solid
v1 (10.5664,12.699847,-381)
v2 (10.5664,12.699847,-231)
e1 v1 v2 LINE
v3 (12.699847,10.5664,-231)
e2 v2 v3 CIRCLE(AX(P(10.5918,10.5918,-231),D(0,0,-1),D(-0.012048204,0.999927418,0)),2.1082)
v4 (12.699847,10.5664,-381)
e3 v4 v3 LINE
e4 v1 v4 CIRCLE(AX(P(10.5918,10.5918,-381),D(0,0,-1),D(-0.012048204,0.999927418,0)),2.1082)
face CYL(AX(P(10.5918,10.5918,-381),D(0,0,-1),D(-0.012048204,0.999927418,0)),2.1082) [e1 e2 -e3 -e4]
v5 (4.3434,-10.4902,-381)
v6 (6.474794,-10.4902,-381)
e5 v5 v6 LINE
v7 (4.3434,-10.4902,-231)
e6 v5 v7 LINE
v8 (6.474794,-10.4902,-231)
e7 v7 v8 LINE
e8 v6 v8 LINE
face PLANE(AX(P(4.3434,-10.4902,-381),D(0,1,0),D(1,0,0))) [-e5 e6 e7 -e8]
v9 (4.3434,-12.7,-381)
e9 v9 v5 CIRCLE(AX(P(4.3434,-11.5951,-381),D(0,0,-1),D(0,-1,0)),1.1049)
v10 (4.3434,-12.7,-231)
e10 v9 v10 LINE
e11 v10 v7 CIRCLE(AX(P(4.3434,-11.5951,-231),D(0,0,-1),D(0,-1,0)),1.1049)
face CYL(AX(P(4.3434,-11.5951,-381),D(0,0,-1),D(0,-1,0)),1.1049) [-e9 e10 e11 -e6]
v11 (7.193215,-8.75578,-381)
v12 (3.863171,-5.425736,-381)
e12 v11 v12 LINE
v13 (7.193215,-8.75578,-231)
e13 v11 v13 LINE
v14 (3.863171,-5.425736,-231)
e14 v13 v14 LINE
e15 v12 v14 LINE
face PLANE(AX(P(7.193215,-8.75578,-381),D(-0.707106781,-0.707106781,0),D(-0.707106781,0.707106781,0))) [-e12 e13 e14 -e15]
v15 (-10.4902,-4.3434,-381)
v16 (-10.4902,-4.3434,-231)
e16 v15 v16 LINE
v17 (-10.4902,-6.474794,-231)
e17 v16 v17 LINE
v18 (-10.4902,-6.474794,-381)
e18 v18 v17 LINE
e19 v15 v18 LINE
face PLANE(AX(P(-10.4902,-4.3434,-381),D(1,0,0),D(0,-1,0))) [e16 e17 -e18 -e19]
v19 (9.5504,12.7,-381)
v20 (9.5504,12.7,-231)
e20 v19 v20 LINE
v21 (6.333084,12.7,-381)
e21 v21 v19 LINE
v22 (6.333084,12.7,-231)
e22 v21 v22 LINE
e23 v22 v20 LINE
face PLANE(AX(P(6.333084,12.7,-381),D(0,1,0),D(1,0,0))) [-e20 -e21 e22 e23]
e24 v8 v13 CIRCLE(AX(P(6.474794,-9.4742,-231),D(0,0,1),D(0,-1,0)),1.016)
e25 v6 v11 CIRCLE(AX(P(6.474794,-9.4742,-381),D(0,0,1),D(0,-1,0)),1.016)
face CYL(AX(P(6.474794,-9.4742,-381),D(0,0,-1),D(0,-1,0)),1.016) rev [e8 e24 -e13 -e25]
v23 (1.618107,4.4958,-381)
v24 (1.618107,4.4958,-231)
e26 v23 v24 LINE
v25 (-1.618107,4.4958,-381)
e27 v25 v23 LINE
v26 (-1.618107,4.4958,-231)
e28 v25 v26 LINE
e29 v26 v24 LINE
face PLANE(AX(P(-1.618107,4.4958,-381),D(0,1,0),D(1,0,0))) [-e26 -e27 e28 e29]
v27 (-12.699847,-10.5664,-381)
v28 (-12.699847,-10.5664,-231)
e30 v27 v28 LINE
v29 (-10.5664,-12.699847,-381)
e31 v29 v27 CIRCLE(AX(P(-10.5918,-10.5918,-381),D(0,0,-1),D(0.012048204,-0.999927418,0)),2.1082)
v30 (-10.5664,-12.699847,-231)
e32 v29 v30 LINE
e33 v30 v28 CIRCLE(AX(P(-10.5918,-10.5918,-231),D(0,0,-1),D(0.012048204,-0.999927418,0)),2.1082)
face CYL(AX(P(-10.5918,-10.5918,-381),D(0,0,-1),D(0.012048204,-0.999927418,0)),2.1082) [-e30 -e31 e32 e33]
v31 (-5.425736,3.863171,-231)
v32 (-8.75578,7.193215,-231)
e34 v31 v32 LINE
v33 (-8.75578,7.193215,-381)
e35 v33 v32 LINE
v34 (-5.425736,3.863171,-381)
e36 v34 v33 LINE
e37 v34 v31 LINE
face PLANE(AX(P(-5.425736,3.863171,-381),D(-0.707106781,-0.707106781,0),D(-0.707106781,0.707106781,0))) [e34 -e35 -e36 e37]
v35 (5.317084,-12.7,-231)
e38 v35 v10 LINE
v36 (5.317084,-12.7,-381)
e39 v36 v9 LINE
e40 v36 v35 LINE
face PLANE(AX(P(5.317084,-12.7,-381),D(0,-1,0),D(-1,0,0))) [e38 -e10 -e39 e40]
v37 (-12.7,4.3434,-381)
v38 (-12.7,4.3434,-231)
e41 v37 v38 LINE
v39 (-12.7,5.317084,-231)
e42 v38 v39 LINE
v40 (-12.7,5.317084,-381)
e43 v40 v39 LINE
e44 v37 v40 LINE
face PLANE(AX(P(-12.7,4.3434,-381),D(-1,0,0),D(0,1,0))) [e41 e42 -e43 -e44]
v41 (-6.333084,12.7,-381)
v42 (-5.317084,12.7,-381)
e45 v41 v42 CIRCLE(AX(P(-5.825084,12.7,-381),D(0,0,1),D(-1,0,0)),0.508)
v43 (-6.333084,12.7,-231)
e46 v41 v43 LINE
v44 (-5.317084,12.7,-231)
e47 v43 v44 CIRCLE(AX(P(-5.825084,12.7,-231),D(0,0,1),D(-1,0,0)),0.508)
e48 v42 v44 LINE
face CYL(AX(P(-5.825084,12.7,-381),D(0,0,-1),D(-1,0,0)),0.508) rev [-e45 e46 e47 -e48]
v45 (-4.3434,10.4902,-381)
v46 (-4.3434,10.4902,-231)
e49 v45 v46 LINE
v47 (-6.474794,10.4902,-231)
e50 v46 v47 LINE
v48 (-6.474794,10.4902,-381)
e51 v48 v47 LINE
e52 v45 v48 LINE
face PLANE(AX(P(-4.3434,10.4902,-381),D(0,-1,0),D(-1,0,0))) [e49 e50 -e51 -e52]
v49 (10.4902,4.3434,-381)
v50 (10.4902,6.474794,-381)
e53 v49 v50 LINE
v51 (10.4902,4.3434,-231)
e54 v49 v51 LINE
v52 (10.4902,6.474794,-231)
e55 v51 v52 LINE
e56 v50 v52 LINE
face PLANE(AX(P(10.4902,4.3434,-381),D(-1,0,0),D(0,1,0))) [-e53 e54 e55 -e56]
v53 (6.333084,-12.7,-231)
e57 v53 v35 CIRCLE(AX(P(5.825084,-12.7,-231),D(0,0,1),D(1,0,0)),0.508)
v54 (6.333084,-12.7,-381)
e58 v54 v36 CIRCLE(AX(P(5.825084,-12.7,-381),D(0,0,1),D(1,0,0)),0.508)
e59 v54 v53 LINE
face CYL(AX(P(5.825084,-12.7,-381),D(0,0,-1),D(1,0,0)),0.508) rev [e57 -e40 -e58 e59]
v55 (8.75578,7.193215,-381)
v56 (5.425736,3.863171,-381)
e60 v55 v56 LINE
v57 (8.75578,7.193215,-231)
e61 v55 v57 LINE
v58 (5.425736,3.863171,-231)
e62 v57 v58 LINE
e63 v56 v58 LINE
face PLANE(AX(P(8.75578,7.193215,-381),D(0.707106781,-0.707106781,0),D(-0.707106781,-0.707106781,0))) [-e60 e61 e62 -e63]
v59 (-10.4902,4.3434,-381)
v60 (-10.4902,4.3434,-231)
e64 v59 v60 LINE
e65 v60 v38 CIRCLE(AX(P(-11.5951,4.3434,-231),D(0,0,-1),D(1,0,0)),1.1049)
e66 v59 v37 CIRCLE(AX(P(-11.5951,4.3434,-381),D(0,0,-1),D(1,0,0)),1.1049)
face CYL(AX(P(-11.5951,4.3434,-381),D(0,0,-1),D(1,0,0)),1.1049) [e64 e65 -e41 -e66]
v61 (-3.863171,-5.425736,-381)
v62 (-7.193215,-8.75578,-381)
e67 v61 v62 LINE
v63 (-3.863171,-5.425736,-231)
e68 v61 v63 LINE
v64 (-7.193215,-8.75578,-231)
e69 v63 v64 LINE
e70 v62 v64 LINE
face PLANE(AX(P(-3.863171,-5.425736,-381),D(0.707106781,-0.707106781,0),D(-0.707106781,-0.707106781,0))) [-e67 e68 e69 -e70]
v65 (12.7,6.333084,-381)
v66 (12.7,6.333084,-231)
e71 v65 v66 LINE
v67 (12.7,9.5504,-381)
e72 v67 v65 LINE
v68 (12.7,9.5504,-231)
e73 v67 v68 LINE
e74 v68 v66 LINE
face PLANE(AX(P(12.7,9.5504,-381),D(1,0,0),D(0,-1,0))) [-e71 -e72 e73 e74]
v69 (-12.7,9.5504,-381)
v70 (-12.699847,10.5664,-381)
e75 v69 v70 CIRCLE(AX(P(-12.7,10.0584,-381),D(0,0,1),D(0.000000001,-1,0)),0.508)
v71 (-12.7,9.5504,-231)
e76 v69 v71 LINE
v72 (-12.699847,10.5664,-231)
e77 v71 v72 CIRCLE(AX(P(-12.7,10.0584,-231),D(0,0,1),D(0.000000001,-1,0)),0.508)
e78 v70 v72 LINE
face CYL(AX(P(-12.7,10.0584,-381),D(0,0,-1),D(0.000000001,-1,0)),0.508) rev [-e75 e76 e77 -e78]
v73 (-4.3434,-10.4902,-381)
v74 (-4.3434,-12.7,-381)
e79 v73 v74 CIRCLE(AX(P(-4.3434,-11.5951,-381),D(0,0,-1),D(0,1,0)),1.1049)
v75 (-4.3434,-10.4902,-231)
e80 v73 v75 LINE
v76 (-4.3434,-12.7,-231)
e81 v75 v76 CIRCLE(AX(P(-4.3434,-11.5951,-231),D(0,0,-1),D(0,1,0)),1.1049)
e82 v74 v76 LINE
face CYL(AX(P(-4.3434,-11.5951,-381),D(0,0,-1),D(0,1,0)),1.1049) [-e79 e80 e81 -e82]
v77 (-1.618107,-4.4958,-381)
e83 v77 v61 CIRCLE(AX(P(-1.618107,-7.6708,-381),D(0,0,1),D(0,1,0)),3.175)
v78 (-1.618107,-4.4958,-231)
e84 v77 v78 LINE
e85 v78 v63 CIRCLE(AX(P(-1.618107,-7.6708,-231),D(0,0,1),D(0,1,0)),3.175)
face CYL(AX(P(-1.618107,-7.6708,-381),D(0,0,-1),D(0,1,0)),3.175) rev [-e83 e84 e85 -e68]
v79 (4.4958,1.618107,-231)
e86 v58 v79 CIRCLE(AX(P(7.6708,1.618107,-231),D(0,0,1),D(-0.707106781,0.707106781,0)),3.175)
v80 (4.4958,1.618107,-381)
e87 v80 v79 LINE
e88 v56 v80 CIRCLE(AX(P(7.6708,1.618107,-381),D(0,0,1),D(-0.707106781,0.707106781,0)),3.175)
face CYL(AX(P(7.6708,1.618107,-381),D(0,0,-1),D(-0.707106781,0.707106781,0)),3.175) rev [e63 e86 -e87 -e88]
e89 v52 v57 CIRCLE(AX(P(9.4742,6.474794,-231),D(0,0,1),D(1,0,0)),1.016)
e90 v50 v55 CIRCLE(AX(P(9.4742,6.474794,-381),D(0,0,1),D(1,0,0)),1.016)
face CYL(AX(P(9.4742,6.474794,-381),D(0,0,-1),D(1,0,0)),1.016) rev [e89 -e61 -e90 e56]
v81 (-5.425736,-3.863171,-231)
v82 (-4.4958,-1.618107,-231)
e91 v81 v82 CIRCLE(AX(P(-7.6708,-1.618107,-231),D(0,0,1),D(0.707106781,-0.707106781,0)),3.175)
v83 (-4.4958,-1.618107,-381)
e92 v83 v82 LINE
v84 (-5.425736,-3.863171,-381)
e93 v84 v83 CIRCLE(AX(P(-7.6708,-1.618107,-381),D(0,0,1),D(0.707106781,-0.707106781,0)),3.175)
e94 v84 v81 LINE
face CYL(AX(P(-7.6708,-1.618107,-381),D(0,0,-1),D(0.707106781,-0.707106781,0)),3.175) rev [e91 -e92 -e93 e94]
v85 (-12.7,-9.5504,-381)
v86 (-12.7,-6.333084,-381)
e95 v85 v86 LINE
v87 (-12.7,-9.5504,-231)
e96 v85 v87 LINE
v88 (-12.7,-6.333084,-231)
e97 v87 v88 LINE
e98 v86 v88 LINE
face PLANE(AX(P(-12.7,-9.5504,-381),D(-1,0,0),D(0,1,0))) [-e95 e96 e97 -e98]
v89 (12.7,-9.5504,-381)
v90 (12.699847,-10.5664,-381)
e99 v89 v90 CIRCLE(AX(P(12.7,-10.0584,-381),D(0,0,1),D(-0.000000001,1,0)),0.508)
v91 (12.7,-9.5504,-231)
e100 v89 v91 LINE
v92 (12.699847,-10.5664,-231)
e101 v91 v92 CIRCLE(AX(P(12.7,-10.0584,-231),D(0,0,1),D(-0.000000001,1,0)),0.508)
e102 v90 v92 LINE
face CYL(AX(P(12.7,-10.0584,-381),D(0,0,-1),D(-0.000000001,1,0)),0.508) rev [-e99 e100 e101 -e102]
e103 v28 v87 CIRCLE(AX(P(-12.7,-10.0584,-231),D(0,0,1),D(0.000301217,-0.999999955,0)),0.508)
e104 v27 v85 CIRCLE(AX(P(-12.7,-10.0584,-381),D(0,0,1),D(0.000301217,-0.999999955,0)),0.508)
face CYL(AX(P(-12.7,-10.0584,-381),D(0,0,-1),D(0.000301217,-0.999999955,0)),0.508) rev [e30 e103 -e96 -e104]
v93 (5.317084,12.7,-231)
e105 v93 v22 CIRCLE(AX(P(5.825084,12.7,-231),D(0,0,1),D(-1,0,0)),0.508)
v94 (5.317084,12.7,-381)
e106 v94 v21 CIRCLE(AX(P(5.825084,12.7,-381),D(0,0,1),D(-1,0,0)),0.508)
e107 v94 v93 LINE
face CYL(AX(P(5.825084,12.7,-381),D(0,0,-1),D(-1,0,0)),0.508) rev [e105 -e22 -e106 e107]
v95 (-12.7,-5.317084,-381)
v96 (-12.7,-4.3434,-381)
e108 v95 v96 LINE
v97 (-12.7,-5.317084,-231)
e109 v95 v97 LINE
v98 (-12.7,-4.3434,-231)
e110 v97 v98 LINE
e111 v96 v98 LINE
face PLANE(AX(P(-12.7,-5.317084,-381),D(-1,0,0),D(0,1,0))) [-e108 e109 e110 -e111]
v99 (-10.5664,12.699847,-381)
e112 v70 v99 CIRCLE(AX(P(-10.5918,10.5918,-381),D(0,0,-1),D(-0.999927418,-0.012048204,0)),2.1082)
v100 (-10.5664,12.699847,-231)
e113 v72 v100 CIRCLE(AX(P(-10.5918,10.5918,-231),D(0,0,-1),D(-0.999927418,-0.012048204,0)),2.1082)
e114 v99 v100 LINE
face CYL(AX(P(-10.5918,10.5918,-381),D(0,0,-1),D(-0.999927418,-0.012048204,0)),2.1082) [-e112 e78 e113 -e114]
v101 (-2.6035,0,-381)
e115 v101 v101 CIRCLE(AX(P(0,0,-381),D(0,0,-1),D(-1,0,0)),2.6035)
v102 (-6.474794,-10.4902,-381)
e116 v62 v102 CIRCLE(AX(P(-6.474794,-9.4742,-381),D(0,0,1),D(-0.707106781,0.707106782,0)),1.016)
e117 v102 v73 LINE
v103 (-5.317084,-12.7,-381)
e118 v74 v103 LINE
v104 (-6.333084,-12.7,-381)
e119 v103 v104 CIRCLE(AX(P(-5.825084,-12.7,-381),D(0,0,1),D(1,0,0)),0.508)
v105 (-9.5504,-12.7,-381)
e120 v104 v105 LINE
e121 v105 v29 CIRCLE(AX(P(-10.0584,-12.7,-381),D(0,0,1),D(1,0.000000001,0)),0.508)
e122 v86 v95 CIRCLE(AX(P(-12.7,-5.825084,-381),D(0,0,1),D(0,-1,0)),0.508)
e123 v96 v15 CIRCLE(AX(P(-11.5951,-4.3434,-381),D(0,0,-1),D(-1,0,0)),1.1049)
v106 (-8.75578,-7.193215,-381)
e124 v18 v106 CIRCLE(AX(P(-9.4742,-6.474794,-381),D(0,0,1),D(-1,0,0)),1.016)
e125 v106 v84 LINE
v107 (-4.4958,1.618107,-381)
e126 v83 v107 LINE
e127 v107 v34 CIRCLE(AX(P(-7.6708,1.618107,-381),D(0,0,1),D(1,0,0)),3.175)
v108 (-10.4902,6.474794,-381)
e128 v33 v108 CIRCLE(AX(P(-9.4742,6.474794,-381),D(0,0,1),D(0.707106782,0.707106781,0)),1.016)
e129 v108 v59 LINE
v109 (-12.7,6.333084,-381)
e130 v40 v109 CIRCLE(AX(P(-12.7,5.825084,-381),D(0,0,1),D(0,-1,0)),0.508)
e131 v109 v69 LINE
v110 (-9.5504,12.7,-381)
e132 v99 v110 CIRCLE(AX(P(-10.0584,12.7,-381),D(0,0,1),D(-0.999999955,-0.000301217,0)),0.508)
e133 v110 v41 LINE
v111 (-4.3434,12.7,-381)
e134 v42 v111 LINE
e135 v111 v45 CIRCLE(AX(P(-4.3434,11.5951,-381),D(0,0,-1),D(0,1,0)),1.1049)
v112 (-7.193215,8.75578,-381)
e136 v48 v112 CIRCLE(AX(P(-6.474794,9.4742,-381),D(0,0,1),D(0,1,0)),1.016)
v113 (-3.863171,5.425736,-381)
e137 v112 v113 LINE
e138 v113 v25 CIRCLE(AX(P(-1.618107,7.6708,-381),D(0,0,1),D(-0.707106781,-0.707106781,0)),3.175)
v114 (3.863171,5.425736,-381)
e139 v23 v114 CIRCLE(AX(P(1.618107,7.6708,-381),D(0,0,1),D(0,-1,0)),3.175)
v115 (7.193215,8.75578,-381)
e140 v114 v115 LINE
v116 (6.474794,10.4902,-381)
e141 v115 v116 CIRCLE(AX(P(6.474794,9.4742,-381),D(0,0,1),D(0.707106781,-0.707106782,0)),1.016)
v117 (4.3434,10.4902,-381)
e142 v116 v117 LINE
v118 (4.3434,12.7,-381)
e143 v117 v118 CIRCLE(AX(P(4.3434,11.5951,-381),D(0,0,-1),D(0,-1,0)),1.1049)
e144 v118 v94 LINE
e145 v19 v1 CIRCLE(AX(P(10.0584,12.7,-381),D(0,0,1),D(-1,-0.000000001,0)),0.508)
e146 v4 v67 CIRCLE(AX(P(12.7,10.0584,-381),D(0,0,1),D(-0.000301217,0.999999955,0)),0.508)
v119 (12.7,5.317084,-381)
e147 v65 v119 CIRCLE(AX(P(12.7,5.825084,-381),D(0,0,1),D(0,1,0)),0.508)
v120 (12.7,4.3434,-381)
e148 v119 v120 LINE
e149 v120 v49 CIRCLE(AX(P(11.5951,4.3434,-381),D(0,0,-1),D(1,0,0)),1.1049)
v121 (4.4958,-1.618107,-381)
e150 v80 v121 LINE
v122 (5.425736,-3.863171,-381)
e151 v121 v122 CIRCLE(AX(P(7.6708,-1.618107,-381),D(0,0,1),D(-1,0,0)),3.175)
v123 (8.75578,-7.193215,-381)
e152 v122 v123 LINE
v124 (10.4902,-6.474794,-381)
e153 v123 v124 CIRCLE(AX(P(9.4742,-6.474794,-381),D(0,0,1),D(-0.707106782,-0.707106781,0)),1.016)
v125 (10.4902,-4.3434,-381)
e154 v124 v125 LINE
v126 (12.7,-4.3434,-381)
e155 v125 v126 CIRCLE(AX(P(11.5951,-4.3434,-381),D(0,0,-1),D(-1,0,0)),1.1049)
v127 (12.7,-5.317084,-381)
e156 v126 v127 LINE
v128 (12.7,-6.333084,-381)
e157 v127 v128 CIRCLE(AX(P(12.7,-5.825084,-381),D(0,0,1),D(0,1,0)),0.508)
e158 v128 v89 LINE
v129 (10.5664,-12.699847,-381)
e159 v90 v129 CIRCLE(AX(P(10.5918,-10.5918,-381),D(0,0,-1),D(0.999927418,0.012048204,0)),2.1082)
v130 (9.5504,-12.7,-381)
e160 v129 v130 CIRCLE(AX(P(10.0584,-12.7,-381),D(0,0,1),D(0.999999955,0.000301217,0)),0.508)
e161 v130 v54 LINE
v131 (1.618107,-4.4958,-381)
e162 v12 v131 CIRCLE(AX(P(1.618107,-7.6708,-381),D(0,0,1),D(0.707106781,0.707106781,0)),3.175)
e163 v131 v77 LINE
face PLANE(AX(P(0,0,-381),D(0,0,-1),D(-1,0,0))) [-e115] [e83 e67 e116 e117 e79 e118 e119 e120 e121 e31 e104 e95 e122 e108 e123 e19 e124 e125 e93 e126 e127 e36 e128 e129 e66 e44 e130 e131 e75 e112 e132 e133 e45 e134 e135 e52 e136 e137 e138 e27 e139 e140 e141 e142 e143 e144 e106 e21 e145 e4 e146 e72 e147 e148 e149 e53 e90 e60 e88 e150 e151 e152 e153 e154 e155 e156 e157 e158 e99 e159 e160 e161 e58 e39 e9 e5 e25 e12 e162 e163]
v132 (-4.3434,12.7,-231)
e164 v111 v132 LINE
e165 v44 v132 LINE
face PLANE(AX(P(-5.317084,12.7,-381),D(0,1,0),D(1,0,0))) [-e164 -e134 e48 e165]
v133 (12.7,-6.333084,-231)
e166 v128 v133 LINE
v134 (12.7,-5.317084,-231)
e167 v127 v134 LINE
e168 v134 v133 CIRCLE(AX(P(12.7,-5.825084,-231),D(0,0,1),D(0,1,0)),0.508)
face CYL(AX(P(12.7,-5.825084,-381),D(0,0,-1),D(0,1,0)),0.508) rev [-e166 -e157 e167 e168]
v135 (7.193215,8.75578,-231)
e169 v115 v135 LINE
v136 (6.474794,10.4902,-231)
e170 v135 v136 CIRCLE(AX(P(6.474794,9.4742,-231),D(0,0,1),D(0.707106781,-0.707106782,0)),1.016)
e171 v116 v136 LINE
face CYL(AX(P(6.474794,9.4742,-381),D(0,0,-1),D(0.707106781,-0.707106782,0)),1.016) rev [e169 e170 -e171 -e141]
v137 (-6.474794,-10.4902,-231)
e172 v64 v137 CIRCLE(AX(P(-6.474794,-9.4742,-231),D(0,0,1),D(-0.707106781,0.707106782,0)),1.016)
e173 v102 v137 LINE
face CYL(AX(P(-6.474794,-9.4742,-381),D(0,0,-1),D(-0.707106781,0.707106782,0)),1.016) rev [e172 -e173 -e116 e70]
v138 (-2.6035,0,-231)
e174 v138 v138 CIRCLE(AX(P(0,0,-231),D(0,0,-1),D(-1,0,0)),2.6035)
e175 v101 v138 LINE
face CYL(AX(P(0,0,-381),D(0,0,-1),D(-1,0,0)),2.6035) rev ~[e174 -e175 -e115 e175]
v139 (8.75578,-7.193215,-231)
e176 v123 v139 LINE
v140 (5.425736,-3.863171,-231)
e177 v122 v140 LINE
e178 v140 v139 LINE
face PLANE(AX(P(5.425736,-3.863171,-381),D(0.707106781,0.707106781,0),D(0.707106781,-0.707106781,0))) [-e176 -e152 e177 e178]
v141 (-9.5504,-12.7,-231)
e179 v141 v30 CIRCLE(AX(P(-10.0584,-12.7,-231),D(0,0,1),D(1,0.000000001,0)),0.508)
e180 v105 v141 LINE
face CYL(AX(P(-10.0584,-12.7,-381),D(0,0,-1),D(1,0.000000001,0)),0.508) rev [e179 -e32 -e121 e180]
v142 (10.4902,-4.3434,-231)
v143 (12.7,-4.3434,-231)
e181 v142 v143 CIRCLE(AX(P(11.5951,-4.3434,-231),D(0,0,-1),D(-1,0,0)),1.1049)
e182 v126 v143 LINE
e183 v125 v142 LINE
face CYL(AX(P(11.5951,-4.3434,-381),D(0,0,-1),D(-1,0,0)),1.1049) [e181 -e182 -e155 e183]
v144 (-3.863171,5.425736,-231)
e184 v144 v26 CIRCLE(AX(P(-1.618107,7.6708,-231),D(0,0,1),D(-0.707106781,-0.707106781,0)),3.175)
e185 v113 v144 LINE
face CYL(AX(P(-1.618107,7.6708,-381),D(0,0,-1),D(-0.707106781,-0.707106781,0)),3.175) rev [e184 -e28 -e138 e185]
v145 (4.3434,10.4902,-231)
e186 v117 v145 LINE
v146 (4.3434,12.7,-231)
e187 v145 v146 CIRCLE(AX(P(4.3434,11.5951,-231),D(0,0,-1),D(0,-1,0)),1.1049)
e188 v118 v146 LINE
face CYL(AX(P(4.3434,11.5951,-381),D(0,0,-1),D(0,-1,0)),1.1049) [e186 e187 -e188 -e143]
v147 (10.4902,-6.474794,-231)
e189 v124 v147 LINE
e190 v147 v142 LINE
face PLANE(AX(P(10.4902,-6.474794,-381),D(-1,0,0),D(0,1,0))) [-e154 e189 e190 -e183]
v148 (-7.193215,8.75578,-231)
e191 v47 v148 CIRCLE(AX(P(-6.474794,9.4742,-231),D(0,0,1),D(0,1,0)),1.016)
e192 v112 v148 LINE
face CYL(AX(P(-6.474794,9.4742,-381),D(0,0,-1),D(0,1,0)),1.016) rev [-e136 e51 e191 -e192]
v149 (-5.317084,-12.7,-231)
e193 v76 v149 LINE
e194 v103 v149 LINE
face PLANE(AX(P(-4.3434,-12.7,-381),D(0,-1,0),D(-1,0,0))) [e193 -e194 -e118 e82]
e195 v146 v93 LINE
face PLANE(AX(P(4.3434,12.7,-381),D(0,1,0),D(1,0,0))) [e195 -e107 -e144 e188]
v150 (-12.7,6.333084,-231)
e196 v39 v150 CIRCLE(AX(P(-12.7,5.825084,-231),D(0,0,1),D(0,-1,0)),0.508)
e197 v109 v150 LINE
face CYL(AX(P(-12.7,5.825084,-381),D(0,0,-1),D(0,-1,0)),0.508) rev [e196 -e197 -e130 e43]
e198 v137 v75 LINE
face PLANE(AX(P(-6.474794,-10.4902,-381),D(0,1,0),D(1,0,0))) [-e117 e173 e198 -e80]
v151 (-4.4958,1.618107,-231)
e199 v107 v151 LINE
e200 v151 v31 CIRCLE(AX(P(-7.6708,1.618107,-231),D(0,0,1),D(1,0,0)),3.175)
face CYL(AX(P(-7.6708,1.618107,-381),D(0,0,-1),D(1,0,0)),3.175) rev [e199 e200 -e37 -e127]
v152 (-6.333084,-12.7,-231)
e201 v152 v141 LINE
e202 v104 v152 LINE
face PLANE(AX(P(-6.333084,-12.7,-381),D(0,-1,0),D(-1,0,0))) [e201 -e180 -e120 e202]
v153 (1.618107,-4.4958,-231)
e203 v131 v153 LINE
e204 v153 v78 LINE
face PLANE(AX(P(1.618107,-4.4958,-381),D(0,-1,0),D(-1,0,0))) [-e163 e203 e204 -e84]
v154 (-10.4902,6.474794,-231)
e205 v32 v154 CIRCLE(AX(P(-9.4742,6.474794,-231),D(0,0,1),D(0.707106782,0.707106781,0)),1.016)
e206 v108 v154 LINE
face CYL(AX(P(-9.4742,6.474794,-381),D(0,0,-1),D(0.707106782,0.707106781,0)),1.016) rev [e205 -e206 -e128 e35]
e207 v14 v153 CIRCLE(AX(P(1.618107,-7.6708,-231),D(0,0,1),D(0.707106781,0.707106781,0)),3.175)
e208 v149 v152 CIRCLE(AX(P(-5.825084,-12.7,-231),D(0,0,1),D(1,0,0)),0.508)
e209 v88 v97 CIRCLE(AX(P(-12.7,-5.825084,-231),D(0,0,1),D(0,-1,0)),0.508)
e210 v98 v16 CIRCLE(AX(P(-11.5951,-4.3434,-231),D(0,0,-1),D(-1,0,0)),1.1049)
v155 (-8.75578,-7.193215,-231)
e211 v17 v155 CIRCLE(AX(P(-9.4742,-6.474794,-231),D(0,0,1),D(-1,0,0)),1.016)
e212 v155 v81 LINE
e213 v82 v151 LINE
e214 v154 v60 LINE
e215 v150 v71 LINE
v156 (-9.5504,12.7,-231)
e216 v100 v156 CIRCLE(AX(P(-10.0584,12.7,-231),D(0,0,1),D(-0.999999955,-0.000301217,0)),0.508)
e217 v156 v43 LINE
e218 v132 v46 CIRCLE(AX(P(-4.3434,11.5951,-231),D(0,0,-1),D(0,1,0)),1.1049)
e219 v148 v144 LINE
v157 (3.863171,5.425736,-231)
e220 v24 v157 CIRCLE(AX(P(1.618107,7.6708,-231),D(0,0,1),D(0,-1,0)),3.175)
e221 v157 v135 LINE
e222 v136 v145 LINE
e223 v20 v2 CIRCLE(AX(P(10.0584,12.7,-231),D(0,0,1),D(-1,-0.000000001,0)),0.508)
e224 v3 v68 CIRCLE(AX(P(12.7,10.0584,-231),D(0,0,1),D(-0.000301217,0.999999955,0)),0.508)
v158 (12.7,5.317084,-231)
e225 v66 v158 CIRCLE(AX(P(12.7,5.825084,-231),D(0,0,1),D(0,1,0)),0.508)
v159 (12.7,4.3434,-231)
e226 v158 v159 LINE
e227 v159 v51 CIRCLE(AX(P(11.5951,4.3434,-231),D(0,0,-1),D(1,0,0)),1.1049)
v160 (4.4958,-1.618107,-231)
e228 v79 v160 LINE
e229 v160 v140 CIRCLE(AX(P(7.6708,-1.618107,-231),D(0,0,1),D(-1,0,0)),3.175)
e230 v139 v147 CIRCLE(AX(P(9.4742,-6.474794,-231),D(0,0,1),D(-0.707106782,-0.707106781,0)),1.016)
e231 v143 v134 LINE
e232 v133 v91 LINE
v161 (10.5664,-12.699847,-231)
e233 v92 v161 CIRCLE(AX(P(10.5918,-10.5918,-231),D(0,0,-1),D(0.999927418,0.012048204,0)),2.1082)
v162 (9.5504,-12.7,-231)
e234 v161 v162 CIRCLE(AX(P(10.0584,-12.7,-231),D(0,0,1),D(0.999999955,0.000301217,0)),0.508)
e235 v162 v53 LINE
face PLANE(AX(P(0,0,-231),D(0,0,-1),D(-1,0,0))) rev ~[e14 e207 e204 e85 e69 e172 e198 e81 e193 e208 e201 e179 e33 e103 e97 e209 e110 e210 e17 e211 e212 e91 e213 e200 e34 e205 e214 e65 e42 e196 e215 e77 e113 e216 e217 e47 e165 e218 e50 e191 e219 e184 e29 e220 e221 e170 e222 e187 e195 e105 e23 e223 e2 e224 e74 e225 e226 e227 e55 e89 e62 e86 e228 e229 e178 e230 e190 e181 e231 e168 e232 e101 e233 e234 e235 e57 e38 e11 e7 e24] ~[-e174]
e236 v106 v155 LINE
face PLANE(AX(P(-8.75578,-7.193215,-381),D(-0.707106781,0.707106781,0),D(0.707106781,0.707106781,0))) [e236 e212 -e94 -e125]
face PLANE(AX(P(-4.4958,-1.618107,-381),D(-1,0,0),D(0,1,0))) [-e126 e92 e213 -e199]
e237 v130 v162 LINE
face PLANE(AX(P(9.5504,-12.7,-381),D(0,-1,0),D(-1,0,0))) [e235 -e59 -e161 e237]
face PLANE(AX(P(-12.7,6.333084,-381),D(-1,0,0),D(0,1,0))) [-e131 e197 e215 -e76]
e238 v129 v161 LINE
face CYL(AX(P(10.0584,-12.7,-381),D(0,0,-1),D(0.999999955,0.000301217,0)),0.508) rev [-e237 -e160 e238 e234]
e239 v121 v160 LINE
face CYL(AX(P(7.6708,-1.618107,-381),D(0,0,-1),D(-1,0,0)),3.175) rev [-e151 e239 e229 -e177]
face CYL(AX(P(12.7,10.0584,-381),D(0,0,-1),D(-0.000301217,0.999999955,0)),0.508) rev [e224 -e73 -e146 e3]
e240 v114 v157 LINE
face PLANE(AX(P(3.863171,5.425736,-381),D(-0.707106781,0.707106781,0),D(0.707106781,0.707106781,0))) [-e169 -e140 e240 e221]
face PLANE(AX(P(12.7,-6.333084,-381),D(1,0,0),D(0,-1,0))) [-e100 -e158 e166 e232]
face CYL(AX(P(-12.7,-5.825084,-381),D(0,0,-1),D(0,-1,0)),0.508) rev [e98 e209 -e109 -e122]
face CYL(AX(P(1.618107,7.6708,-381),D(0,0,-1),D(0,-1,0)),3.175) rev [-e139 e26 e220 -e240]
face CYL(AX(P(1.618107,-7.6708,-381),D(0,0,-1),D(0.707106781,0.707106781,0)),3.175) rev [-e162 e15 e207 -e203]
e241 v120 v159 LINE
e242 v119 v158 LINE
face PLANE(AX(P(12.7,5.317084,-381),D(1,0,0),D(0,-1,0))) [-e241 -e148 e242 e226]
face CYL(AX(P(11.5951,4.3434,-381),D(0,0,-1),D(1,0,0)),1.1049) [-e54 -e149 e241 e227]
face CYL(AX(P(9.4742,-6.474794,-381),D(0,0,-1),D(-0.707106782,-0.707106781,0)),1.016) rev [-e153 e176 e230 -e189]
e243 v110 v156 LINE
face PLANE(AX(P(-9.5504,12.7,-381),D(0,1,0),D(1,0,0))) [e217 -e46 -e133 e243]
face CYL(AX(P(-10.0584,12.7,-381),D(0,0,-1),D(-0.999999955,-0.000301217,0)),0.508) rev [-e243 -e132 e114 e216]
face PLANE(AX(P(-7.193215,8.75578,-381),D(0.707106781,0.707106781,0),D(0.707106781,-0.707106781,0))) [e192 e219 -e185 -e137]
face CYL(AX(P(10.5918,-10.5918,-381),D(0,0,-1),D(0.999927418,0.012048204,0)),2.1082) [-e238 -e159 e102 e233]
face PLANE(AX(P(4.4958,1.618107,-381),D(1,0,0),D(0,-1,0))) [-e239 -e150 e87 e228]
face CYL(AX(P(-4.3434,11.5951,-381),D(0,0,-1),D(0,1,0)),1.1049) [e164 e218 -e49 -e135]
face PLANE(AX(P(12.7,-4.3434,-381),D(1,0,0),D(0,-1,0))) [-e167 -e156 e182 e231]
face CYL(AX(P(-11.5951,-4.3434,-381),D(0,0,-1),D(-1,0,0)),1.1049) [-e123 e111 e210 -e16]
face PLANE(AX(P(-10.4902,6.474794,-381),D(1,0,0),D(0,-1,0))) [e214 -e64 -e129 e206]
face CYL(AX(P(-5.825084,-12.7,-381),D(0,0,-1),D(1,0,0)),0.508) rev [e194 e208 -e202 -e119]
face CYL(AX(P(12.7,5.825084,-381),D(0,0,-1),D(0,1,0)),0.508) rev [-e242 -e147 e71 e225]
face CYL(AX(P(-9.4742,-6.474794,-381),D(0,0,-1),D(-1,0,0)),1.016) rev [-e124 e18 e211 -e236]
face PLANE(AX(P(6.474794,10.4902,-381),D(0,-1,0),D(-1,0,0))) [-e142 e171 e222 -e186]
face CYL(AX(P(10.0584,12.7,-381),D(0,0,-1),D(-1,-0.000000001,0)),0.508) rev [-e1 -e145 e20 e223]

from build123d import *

# Parameters (mm, degrees)
SKETCH1_R           = 2.6035
BOSS_EXTRUDE1_DEPTH = 150


with BuildPart() as part:
    # Sketch1 → Boss-Extrude1 (new body)
    with BuildSketch(Plane(origin=(0, 0, -381), x_dir=(-1, 0, 0), z_dir=(0, 0, -1))):
        with BuildLine():
            Line((12.7, -9.5504), (12.7, -6.3330836))
            ThreePointArc((12.7, -6.3330836), (12.192, -5.8250836), (12.7, -5.3170836))
            Line((12.7, -5.3170836), (12.7, -4.3434))
            ThreePointArc((12.7, -4.3434), (11.5951, -3.2385), (10.4902, -4.3434))
            Line((10.4902, -4.3434), (10.4902, -6.474794456))
            ThreePointArc((10.4902, -6.474794456), (9.863006367, -7.413456061), (8.75577951, -7.193214945))
            Line((8.75577951, -7.193214945), (5.42573597, -3.863171405))
            ThreePointArc((5.42573597, -3.863171405), (4.737482484, -2.833127272), (4.4958, -1.618107374))
            Line((4.4958, -1.618107374), (4.4958, 1.618107374))
            ThreePointArc((4.4958, 1.618107374), (4.737482484, 2.833127272), (5.42573597, 3.863171405))
            Line((5.42573597, 3.863171405), (8.75577951, 7.193214945))
            ThreePointArc((8.75577951, 7.193214945), (9.863006367, 7.413456061), (10.4902, 6.474794456))
            Line((10.4902, 6.474794456), (10.4902, 4.343399971))
            ThreePointArc((10.4902, 4.343399971), (11.5951, 3.238499971), (12.7, 4.343399971))
            Line((12.7, 4.343399971), (12.7, 5.3170836))
            ThreePointArc((12.7, 5.3170836), (12.192, 5.8250836), (12.7, 6.3330836))
            Line((12.7, 6.3330836), (12.7, 9.5504))
            ThreePointArc((12.7, 9.5504), (12.192000006, 10.058323491), (12.699846982, 10.566399977))
            ThreePointArc((12.699846982, 10.566399977), (12.082522516, 12.082522516), (10.566399977, 12.699846982))
            ThreePointArc((10.566399977, 12.699846982), (10.058323491, 12.192000006), (9.5504, 12.7))
            Line((9.5504, 12.7), (6.3330836, 12.7))
            ThreePointArc((6.3330836, 12.7), (5.8250836, 12.192), (5.3170836, 12.7))
            Line((5.3170836, 12.7), (4.3434, 12.7))
            ThreePointArc((4.3434, 12.7), (3.2385, 11.5951), (4.3434, 10.4902))
            Line((4.3434, 10.4902), (6.474794456, 10.4902))
            ThreePointArc((6.474794456, 10.4902), (7.413456061, 9.863006367), (7.193214945, 8.75577951))
            Line((7.193214945, 8.75577951), (3.863171405, 5.42573597))
            ThreePointArc((3.863171405, 5.42573597), (2.833127272, 4.737482484), (1.618107374, 4.4958))
            Line((1.618107374, 4.4958), (-1.618107374, 4.4958))
            ThreePointArc((-1.618107374, 4.4958), (-2.833127272, 4.737482484), (-3.863171405, 5.42573597))
            Line((-3.863171405, 5.42573597), (-7.193214945, 8.75577951))
            ThreePointArc((-7.193214945, 8.75577951), (-7.413456061, 9.863006367), (-6.474794456, 10.4902))
            Line((-6.474794456, 10.4902), (-4.343399971, 10.4902))
            ThreePointArc((-4.343399971, 10.4902), (-3.238499971, 11.5951), (-4.343399971, 12.7))
            Line((-4.343399971, 12.7), (-5.3170836, 12.7))
            ThreePointArc((-5.3170836, 12.7), (-5.8250836, 12.192), (-6.3330836, 12.7))
            Line((-6.3330836, 12.7), (-9.5504, 12.7))
            ThreePointArc((-9.5504, 12.7), (-10.058323491, 12.192000006), (-10.566399977, 12.699846982))
            ThreePointArc((-10.566399977, 12.699846982), (-12.082522516, 12.082522516), (-12.699846982, 10.566399977))
            ThreePointArc((-12.699846982, 10.566399977), (-12.192000006, 10.058323491), (-12.7, 9.5504))
            Line((-12.7, 9.5504), (-12.7, 6.3330836))
            ThreePointArc((-12.7, 6.3330836), (-12.192, 5.8250836), (-12.7, 5.3170836))
            Line((-12.7, 5.3170836), (-12.7, 4.3434))
            ThreePointArc((-12.7, 4.3434), (-11.5951, 3.2385), (-10.4902, 4.3434))
            Line((-10.4902, 4.3434), (-10.4902, 6.474794456))
            ThreePointArc((-10.4902, 6.474794456), (-9.863006367, 7.413456061), (-8.75577951, 7.193214945))
            Line((-8.75577951, 7.193214945), (-5.42573597, 3.863171405))
            ThreePointArc((-5.42573597, 3.863171405), (-4.737482484, 2.833127272), (-4.4958, 1.618107374))
            Line((-4.4958, 1.618107374), (-4.4958, -1.618107374))
            ThreePointArc((-4.4958, -1.618107374), (-4.737482484, -2.833127272), (-5.42573597, -3.863171405))
            Line((-5.42573597, -3.863171405), (-8.75577951, -7.193214945))
            ThreePointArc((-8.75577951, -7.193214945), (-9.863006367, -7.413456061), (-10.4902, -6.474794456))
            Line((-10.4902, -6.474794456), (-10.4902, -4.343399971))
            ThreePointArc((-10.4902, -4.343399971), (-11.5951, -3.238499971), (-12.7, -4.343399971))
            Line((-12.7, -4.343399971), (-12.7, -5.3170836))
            ThreePointArc((-12.7, -5.3170836), (-12.192, -5.8250836), (-12.7, -6.3330836))
            Line((-12.7, -6.3330836), (-12.7, -9.5504))
            ThreePointArc((-12.7, -9.5504), (-12.192000006, -10.058323491), (-12.699846982, -10.566399977))
            ThreePointArc((-12.699846982, -10.566399977), (-12.082522516, -12.082522516), (-10.566399977, -12.699846982))
            ThreePointArc((-10.566399977, -12.699846982), (-10.058323491, -12.192000006), (-9.5504, -12.7))
            Line((-9.5504, -12.7), (-6.3330836, -12.7))
            ThreePointArc((-6.3330836, -12.7), (-5.8250836, -12.192), (-5.3170836, -12.7))
            Line((-5.3170836, -12.7), (-4.3434, -12.7))
            ThreePointArc((-4.3434, -12.7), (-3.2385, -11.5951), (-4.3434, -10.4902))
            Line((-4.3434, -10.4902), (-6.474794456, -10.4902))
            ThreePointArc((-6.474794456, -10.4902), (-7.413456061, -9.863006367), (-7.193214945, -8.75577951))
            Line((-7.193214945, -8.75577951), (-3.863171405, -5.42573597))
            ThreePointArc((-3.863171405, -5.42573597), (-2.833127272, -4.737482484), (-1.618107374, -4.4958))
            Line((-1.618107374, -4.4958), (1.618107374, -4.4958))
            ThreePointArc((1.618107374, -4.4958), (2.833127272, -4.737482484), (3.863171405, -5.42573597))
            Line((3.863171405, -5.42573597), (7.193214945, -8.75577951))
            ThreePointArc((7.193214945, -8.75577951), (7.413456061, -9.863006367), (6.474794456, -10.4902))
            Line((6.474794456, -10.4902), (4.343399971, -10.4902))
            ThreePointArc((4.343399971, -10.4902), (3.238499971, -11.5951), (4.343399971, -12.7))
            Line((4.343399971, -12.7), (5.3170836, -12.7))
            ThreePointArc((5.3170836, -12.7), (5.8250836, -12.192), (6.3330836, -12.7))
            Line((6.3330836, -12.7), (9.5504, -12.7))
            ThreePointArc((9.5504, -12.7), (10.058323491, -12.192000006), (10.566399977, -12.699846982))
            ThreePointArc((10.566399977, -12.699846982), (12.082522516, -12.082522516), (12.699846982, -10.566399977))
            ThreePointArc((12.699846982, -10.566399977), (12.192000006, -10.058323491), (12.7, -9.5504))
        make_face()
        Circle(SKETCH1_R, mode=Mode.SUBTRACT)
    extrude(amount=-BOSS_EXTRUDE1_DEPTH)


solid = part.part
